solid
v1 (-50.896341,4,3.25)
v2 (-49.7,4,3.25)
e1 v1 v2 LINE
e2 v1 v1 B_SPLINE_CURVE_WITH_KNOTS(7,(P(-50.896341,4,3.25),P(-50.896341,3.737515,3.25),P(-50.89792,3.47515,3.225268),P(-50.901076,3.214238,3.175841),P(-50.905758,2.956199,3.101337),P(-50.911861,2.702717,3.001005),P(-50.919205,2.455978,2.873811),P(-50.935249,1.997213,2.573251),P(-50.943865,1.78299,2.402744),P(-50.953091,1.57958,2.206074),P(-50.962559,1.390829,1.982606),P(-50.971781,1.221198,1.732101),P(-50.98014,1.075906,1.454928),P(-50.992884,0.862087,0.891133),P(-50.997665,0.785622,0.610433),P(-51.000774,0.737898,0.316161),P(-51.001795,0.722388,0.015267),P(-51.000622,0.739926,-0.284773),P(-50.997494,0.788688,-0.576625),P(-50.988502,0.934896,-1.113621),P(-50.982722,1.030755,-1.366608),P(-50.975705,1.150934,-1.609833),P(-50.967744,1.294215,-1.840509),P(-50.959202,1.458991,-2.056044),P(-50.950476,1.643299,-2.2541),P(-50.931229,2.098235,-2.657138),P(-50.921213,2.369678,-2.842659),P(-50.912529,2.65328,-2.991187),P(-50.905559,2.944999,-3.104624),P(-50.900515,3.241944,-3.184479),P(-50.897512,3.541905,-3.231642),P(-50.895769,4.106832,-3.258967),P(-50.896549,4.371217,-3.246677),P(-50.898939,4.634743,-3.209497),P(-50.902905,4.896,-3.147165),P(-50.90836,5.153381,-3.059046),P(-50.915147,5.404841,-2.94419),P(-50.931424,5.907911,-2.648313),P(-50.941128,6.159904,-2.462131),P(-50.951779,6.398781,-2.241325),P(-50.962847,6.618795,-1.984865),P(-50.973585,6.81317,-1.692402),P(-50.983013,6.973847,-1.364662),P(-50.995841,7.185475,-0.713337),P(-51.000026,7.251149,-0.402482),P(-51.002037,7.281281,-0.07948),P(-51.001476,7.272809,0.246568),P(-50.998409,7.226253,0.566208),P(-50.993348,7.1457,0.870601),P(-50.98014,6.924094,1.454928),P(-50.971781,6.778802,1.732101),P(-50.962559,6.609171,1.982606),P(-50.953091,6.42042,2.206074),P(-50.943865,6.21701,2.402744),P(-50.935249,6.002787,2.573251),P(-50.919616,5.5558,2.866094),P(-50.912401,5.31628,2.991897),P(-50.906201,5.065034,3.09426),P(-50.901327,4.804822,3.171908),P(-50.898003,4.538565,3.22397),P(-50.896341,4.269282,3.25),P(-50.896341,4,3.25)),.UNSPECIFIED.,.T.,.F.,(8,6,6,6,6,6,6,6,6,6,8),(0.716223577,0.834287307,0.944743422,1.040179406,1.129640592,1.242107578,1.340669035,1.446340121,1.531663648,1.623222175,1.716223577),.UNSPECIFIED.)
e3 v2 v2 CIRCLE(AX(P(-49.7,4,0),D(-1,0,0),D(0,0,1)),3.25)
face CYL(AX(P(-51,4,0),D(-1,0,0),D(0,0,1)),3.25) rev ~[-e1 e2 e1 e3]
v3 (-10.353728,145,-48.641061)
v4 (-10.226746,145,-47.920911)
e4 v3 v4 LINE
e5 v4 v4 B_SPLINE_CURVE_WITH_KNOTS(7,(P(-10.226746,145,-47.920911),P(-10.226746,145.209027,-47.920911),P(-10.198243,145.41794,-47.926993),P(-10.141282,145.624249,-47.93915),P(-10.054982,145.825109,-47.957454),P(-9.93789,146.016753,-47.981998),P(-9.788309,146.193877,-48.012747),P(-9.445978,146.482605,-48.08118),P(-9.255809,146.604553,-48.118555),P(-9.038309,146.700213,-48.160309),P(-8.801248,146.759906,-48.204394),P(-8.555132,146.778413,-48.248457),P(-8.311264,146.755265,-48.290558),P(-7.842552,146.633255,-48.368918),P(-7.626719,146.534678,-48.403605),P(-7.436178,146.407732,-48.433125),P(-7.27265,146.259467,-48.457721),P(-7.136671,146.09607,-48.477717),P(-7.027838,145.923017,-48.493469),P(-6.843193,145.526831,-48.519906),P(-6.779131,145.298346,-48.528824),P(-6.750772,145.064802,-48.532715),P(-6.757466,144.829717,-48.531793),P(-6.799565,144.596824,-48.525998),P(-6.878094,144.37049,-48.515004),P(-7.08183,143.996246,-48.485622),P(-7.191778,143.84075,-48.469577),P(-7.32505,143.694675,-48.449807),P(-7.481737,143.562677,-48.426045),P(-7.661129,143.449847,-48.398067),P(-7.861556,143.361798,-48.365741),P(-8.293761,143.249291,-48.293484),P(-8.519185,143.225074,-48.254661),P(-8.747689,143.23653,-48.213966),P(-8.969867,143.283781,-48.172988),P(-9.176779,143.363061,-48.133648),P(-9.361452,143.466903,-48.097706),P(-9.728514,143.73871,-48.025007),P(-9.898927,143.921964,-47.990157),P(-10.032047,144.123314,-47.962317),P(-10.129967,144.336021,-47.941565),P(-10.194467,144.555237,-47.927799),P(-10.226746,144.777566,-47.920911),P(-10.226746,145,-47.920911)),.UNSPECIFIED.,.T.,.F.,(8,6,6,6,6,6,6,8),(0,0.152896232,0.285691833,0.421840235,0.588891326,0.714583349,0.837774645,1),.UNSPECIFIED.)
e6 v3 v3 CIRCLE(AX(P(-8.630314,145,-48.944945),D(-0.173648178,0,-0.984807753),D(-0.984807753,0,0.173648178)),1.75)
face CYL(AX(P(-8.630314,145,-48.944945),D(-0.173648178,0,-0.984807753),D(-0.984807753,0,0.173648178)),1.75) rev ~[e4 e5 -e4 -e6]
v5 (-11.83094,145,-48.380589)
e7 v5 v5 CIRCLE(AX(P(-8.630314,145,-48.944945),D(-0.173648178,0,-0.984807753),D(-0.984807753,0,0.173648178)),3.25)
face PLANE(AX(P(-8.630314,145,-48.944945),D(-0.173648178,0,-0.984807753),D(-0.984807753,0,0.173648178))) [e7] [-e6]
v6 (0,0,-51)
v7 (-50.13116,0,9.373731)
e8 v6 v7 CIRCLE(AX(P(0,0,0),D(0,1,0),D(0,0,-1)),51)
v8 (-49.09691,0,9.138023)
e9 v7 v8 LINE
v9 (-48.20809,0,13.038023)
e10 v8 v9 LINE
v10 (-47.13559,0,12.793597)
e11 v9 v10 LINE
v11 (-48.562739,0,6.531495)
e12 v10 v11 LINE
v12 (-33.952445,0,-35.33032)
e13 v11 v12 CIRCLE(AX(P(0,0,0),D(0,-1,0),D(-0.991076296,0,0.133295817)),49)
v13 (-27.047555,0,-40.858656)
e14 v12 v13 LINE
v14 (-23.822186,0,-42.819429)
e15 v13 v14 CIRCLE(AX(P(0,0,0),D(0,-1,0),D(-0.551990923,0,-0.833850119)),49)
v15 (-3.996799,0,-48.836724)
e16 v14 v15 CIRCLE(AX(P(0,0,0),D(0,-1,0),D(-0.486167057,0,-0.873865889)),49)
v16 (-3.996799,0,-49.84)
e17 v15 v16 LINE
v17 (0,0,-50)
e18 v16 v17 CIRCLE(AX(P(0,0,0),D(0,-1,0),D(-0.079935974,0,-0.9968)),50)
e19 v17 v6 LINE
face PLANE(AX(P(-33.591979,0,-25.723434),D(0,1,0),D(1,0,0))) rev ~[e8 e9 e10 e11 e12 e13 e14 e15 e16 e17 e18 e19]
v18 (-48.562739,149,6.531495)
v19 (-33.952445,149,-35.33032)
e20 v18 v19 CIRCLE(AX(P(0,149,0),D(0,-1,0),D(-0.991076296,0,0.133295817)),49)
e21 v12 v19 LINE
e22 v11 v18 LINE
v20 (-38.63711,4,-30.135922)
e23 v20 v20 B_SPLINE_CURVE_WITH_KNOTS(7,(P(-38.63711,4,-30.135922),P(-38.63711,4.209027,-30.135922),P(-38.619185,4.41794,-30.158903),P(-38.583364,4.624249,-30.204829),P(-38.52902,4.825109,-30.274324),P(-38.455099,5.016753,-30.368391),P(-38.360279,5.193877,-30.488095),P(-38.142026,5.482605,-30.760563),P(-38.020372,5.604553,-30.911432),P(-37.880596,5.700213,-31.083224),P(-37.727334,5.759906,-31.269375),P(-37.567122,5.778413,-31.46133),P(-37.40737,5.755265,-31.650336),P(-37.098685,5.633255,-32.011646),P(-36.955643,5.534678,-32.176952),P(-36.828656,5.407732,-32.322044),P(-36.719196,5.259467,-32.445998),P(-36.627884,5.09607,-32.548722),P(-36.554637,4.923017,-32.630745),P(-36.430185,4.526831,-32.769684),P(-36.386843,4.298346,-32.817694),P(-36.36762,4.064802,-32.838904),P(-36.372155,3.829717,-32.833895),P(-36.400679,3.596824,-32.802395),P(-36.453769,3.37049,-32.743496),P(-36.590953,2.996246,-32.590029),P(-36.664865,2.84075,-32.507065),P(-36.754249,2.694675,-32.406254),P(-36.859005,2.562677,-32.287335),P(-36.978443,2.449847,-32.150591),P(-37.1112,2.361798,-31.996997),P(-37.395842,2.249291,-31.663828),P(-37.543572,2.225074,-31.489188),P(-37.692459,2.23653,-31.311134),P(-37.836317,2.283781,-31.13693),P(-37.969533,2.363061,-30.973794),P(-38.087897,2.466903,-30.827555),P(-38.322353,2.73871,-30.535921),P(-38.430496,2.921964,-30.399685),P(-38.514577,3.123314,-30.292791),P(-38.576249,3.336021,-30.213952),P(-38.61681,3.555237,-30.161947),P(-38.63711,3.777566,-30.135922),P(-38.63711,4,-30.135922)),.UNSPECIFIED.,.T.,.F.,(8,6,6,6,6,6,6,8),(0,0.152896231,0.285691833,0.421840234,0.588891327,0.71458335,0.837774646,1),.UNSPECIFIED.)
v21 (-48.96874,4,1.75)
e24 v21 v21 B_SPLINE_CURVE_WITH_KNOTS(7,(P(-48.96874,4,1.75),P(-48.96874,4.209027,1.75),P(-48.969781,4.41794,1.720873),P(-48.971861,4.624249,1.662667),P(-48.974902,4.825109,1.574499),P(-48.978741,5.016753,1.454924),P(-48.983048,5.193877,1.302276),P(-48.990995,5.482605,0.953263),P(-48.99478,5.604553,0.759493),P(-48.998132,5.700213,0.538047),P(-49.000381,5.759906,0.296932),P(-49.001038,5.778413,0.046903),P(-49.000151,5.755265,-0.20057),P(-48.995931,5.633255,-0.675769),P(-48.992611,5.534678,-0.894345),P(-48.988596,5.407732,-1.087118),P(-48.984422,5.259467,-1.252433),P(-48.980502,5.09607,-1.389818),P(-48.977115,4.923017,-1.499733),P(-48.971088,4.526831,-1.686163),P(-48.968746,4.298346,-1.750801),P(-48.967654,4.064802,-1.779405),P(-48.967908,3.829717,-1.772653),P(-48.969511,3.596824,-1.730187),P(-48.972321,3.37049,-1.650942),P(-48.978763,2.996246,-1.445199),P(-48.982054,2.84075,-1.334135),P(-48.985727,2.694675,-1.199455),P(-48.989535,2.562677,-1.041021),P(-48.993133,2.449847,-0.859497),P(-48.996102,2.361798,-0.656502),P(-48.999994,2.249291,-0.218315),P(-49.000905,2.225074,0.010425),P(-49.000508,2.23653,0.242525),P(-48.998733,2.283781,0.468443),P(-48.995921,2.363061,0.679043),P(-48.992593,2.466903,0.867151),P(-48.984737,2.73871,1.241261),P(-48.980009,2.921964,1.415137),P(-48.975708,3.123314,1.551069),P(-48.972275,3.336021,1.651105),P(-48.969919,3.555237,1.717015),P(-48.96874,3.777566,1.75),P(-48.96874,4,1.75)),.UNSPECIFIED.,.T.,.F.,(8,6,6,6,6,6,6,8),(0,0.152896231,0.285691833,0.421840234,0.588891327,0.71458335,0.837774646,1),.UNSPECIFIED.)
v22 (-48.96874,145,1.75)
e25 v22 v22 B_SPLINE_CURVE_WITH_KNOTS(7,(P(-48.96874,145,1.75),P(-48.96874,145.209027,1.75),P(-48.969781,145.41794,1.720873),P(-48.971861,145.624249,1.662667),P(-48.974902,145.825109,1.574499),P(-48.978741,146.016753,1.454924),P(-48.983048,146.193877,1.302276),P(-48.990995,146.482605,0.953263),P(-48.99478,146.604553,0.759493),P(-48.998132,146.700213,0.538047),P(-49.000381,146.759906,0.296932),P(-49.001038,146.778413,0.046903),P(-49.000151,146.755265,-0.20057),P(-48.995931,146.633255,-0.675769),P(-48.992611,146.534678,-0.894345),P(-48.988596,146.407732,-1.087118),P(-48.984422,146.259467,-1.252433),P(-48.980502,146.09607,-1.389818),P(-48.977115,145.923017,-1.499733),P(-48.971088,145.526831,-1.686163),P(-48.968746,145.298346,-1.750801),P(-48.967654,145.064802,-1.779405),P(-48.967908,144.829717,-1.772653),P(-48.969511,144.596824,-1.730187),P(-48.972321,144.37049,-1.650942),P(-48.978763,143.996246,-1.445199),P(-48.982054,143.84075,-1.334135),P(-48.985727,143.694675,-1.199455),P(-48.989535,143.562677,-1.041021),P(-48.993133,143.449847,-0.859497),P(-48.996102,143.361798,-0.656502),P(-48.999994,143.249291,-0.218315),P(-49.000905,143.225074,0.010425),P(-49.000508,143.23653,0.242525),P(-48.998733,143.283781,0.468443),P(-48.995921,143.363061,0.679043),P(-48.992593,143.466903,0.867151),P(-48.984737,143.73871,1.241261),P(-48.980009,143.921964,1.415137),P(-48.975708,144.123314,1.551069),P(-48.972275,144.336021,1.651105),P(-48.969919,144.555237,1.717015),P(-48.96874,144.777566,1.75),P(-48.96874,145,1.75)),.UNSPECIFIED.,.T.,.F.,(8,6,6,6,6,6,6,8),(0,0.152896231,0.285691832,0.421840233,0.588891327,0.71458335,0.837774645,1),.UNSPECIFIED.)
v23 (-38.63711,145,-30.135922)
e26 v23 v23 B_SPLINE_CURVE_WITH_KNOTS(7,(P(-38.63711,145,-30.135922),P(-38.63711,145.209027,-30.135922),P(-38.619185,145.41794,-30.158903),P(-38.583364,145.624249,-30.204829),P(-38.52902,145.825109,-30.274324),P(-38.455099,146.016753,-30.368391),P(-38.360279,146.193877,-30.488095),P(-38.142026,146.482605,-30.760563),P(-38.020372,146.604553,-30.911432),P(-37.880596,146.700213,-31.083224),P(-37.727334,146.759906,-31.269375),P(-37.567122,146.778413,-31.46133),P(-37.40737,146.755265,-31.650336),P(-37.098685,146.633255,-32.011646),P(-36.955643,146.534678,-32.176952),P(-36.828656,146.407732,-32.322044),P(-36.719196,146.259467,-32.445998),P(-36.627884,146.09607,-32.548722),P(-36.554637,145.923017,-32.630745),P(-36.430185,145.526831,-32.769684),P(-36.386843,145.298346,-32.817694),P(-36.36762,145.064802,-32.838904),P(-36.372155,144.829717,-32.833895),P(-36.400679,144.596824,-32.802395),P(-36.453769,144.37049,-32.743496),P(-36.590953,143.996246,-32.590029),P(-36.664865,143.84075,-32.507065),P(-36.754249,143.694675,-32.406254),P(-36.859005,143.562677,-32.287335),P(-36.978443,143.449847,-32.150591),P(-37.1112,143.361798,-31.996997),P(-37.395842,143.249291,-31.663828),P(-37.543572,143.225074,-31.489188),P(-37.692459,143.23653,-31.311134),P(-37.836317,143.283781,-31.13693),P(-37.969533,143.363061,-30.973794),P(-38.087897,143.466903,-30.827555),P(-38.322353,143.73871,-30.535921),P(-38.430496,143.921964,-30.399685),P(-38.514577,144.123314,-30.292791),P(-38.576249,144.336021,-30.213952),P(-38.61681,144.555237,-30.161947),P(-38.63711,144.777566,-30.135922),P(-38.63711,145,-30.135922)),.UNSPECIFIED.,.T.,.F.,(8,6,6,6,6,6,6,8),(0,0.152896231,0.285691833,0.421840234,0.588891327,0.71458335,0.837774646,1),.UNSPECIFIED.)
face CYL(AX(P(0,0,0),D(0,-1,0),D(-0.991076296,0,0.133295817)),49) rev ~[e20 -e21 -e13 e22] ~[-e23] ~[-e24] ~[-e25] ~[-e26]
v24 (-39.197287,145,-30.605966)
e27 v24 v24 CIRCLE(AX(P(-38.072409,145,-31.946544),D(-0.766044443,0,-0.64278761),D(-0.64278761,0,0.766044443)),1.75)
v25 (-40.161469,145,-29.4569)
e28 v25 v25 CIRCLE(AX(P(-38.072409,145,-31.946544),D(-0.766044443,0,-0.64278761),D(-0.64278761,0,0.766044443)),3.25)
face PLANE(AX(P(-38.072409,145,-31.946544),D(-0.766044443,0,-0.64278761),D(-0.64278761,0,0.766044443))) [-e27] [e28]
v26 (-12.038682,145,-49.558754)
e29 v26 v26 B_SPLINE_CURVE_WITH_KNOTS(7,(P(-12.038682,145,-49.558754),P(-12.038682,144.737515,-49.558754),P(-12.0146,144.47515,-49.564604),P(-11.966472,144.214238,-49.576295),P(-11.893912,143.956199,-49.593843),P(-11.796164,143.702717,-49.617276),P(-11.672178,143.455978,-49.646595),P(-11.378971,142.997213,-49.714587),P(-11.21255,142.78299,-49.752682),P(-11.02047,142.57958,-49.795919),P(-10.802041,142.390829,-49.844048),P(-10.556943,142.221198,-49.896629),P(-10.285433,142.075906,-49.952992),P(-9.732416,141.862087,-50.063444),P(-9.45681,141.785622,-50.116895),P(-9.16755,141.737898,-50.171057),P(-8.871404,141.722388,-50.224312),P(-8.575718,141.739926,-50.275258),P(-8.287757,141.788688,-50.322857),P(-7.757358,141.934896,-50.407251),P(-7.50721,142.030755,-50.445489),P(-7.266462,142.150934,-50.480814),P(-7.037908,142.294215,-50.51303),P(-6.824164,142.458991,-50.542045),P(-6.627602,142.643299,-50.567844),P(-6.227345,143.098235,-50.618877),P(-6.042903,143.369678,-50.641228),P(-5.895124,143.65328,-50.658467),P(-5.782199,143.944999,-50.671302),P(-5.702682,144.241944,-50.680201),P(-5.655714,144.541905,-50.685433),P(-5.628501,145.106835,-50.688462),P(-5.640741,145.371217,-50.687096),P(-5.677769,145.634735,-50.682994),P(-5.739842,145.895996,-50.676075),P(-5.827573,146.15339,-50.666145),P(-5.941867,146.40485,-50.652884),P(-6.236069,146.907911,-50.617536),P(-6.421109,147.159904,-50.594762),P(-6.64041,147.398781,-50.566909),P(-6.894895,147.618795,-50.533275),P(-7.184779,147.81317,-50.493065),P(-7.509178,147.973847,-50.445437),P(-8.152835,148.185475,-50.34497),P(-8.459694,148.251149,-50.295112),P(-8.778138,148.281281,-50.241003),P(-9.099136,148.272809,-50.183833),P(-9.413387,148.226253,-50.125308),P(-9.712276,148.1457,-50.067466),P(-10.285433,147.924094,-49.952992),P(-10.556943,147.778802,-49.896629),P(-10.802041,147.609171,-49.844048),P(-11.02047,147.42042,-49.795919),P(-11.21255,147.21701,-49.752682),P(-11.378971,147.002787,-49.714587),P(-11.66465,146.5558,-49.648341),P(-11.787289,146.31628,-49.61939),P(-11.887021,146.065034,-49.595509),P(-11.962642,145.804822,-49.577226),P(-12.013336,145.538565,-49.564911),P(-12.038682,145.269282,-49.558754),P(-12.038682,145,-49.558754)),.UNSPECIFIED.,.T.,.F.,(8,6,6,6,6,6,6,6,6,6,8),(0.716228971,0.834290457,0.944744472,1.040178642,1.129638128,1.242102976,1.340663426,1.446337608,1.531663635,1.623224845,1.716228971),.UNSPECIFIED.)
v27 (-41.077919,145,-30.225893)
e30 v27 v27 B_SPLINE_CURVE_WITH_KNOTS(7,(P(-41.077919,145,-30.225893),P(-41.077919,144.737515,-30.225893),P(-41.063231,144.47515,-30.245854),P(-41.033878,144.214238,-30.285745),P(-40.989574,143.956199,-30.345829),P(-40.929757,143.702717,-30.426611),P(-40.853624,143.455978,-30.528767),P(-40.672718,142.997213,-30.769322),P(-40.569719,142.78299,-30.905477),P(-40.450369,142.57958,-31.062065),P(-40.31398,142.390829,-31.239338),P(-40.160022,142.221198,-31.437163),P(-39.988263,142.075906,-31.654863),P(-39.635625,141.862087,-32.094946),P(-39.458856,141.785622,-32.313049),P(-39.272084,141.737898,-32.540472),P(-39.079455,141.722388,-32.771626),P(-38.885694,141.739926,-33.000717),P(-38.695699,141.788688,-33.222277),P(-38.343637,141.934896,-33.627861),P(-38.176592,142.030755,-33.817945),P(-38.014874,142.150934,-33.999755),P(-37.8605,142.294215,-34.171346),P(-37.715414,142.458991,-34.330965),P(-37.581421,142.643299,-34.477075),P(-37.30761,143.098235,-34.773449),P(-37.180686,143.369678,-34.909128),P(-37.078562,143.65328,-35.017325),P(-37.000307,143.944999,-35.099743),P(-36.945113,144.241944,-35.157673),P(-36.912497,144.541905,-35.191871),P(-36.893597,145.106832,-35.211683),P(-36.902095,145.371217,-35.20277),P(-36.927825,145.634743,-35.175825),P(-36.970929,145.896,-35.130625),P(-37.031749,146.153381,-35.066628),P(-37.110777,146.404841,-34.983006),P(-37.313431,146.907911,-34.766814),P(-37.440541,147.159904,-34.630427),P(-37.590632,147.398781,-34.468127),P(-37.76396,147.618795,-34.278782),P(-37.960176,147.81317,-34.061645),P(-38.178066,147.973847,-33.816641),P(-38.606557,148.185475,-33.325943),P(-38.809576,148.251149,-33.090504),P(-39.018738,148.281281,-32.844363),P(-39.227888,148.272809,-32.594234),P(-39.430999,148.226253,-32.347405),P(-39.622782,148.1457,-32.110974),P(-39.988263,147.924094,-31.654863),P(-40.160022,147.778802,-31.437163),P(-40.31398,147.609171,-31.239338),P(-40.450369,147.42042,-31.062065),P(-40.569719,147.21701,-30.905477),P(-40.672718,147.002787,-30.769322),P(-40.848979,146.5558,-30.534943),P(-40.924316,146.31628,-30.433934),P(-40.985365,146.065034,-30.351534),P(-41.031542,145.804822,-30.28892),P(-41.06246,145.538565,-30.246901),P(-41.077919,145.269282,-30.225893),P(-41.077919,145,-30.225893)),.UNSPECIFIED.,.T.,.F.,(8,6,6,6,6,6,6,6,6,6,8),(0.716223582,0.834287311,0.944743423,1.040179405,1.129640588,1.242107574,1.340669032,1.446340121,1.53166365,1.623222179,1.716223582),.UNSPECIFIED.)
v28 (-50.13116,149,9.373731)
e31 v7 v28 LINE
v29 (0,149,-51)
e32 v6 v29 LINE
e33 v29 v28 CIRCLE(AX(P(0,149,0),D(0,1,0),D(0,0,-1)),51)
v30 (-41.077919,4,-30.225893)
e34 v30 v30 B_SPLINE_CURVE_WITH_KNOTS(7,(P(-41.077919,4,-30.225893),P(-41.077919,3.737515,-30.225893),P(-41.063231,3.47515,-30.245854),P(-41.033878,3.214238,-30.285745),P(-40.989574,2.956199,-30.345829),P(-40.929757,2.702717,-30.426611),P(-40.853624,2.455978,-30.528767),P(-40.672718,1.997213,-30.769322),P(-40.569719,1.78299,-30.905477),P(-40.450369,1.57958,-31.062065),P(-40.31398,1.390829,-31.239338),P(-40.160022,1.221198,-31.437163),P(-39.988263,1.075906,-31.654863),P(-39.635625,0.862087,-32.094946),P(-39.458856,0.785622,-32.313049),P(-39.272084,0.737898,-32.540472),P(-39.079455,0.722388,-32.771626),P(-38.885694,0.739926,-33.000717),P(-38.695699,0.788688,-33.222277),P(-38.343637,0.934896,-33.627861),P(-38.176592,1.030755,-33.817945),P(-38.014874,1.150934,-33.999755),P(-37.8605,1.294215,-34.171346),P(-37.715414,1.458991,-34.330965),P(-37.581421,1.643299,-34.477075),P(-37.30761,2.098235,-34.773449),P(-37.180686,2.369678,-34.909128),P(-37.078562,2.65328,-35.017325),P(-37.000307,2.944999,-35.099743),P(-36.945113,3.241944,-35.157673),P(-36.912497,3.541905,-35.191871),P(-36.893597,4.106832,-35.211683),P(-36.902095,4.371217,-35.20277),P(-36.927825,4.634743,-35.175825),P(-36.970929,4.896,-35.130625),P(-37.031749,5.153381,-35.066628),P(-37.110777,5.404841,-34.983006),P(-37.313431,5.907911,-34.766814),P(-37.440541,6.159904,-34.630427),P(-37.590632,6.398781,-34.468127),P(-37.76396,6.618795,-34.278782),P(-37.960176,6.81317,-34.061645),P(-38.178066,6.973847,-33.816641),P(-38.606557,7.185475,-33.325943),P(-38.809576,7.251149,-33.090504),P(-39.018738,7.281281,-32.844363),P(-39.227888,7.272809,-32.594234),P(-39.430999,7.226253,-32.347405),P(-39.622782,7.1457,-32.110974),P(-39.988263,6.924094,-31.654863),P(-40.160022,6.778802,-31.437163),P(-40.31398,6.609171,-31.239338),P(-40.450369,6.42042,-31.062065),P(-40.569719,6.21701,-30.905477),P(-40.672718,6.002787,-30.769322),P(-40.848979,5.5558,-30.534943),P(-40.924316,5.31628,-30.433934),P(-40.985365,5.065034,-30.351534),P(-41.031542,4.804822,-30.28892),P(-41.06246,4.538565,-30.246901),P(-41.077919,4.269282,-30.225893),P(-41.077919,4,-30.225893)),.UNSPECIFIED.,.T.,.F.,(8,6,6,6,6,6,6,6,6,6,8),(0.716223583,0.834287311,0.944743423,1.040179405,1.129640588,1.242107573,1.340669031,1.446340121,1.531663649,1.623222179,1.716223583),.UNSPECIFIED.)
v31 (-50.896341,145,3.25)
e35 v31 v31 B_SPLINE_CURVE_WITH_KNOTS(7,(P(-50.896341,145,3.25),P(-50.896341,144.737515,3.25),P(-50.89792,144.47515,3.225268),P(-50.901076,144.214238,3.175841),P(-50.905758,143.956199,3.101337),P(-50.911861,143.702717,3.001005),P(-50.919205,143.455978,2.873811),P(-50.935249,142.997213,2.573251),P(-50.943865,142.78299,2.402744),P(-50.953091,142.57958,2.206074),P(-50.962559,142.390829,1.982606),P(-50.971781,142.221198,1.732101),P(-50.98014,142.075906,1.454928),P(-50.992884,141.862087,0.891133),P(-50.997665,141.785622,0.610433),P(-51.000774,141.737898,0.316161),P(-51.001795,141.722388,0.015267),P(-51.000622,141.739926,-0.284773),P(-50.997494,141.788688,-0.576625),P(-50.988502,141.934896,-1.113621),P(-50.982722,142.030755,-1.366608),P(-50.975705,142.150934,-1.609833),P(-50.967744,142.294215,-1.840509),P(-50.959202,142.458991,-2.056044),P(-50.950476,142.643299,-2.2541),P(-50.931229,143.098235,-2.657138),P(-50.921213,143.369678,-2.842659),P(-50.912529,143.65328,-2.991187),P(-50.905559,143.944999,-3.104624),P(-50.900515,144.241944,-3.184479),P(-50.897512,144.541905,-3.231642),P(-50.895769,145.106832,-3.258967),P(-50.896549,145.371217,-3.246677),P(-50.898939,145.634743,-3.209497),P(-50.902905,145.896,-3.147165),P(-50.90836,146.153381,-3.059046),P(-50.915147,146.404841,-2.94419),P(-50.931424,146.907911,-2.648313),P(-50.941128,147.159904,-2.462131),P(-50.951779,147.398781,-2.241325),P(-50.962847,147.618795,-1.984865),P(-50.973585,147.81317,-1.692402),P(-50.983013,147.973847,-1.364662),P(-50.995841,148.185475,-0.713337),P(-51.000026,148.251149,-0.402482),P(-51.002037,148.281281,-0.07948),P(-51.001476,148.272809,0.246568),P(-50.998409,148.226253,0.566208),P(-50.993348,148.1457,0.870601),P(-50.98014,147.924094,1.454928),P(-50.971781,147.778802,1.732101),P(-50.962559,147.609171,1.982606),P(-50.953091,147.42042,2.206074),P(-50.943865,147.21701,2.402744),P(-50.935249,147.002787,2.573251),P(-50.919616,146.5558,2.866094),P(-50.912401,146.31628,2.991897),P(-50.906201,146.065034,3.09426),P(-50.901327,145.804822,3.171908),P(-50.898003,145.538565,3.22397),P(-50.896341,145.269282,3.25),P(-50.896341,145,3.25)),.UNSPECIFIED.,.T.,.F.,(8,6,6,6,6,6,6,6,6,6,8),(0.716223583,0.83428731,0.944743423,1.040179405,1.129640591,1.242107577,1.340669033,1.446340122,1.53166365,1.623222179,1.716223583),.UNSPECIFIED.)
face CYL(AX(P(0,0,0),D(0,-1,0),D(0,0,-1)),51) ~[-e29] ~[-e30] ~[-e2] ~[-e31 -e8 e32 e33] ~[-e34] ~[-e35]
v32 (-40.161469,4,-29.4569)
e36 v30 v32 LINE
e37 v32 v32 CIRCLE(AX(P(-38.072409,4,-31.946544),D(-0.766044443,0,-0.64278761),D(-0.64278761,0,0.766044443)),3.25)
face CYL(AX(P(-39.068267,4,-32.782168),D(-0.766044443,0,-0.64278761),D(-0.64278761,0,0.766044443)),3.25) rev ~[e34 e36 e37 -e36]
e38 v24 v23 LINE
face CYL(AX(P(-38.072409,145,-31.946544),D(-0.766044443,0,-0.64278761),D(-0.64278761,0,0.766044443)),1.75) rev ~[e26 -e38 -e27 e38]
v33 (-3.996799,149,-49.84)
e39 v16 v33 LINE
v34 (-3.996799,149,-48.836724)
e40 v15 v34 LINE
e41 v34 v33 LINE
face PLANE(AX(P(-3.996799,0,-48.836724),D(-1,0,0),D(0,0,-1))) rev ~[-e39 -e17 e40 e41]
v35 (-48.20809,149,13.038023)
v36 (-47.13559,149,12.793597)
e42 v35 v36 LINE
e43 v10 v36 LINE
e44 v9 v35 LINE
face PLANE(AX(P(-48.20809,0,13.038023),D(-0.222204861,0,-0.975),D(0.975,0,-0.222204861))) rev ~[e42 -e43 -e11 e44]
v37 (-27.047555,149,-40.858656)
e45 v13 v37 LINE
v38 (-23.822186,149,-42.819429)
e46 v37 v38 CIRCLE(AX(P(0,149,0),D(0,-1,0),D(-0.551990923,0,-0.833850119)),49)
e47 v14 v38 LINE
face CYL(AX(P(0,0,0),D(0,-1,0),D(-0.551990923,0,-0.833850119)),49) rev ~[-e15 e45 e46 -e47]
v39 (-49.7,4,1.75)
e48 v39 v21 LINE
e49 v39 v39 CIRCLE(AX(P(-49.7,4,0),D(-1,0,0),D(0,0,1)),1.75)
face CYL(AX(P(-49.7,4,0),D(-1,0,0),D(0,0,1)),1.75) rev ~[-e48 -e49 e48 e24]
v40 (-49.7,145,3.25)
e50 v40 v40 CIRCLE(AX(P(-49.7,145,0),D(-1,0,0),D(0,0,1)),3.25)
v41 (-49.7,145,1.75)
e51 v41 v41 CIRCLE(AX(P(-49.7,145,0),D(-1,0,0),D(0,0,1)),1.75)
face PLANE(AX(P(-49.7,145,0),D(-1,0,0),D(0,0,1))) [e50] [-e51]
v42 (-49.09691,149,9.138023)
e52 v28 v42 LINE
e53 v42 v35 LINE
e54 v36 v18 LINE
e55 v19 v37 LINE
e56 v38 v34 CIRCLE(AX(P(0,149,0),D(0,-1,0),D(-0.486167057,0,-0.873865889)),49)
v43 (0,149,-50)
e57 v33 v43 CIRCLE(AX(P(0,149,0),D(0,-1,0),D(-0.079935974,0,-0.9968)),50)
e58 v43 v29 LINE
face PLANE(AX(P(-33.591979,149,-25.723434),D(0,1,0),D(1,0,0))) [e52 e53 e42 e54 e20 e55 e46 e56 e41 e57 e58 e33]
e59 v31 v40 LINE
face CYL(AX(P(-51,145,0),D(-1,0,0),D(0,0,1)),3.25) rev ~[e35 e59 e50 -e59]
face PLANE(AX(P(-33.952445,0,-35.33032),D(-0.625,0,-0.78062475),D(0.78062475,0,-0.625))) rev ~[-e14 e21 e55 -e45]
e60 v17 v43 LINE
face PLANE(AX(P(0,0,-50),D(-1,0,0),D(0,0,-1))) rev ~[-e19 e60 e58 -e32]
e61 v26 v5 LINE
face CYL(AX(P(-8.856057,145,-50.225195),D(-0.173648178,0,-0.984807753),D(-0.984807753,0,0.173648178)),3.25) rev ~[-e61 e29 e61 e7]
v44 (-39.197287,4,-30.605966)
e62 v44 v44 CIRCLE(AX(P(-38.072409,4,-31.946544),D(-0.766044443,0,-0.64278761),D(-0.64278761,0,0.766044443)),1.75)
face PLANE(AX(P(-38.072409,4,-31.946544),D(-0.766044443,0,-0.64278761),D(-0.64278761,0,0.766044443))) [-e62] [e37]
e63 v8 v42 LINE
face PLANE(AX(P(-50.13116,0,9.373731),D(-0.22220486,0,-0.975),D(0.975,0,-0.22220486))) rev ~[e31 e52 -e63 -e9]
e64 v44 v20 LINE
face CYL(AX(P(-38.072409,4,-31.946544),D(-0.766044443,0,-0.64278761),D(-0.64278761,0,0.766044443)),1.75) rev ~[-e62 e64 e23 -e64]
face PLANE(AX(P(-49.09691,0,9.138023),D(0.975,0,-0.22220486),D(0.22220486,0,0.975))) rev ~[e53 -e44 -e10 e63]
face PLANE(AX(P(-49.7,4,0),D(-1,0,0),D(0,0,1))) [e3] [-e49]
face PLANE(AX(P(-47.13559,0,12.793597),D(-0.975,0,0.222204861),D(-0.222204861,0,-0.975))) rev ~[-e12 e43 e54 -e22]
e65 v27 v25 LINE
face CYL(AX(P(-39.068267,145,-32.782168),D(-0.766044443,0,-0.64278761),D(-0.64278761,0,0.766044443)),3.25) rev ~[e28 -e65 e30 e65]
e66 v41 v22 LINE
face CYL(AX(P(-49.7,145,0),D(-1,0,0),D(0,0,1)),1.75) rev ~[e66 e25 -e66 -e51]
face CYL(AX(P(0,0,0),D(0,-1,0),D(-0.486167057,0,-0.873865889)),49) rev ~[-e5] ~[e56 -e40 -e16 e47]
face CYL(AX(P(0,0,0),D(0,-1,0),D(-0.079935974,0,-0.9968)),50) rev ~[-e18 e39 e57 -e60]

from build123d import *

# Parameters (mm, degrees)
EXTRUDE_1_DEPTH          = 149
SKETCH_7_R               = 3.25
CUT_EXTRUDE_3_DEPTH      = 1.3
SKETCH_8_R               = 1.75
CUT_EXTRUDE_4_DEPTH      = 166.14263547
PATTERN_CIRCULAR_1_COUNT = 3
PATTERN_CIRCULAR_1_ANGLE = 40
SKETCH_9_R               = 3.25
CUT_EXTRUDE_5_DEPTH      = 1.3
SKETCH_10_R              = 1.75
CUT_EXTRUDE_6_DEPTH      = 166.14263547
PATTERN_CIRCULAR_2_COUNT = 5
PATTERN_CIRCULAR_2_ANGLE = 80


with BuildPart() as part:
    # Эскиз1 → Бобышка-Вытянуть1 (new body)
    with BuildSketch(Plane(origin=(0, 0, 0), x_dir=(1, 0, 0), z_dir=(0, 1, 0))):
        with BuildLine():
            Line((-47.135590279, -12.793597189), (-48.562738521, -6.531495034))
            ThreePointArc((-48.562738521, -6.531495034), (-46.263287314, 16.146462365), (-33.952444786, 35.330319742))
            Line((-33.952444786, 35.330319742), (-27.047555214, 40.858655839))
            ThreePointArc((-27.047555214, 40.858655839), (-25.453757982, 41.870111113), (-23.822185811, 42.819428571))
            ThreePointArc((-23.822185811, 42.819428571), (-14.231160733, 46.887888246), (-3.996798719, 48.836723887))
            Line((-3.996798719, 48.836723887), (-3.996798719, 49.84))
            ThreePointArc((-3.996798719, 49.84), (-2, 49.959983987), (0, 50))
            Line((0, 50), (0, 51))
            ThreePointArc((0, 51), (-39.236846594, 32.580206711), (-50.131159715, -9.373730613))
            Line((-50.131159715, -9.373730613), (-49.096909721, -9.138022536))
            Line((-49.096909721, -9.138022536), (-48.208090279, -13.038022536))
            Line((-48.208090279, -13.038022536), (-47.135590279, -12.793597189))
        make_face()
    extrude(amount=EXTRUDE_1_DEPTH)

    # Эскиз7 → Вырез-Вытянуть3 (cut)
    with BuildSketch(Plane.ZY.offset(51)):
        with Locations((0, 4)):
            Circle(SKETCH_7_R)
    cut_extrude_3 = extrude(amount=-CUT_EXTRUDE_3_DEPTH, mode=Mode.SUBTRACT)

    # Эскиз8 → Вырез-Вытянуть4 (cut, through all)
    with BuildSketch(Plane.ZY.offset(49.7)):
        with Locations((0, 4)):
            Circle(SKETCH_8_R)
    cut_extrude_4 = extrude(amount=-CUT_EXTRUDE_4_DEPTH, mode=Mode.SUBTRACT)

    # Круговой массив1: Вырез-Вытянуть3, Вырез-Вытянуть4 ×3 about axis, 1 skipped
    pattern_circular_1_axis = Axis((0, 0, 0), (0, -1, 0))
    add([cut_extrude_3.rotate(pattern_circular_1_axis, i * PATTERN_CIRCULAR_1_ANGLE / (PATTERN_CIRCULAR_1_COUNT - 1)) for i in range(1, PATTERN_CIRCULAR_1_COUNT) if i not in (1,)], mode=Mode.SUBTRACT)
    add([cut_extrude_4.rotate(pattern_circular_1_axis, i * PATTERN_CIRCULAR_1_ANGLE / (PATTERN_CIRCULAR_1_COUNT - 1)) for i in range(1, PATTERN_CIRCULAR_1_COUNT) if i not in (1,)], mode=Mode.SUBTRACT)

    # Эскиз9 → Вырез-Вытянуть5 (cut)
    with BuildSketch(Plane.ZY.offset(51)):
        with Locations((0, 145)):
            Circle(SKETCH_9_R)
    cut_extrude_5 = extrude(amount=-CUT_EXTRUDE_5_DEPTH, mode=Mode.SUBTRACT)

    # Эскиз10 → Вырез-Вытянуть6 (cut, through all)
    with BuildSketch(Plane.ZY.offset(49.7)):
        with Locations((0, 145)):
            Circle(SKETCH_10_R)
    cut_extrude_6 = extrude(amount=-CUT_EXTRUDE_6_DEPTH, mode=Mode.SUBTRACT)

    # Круговой массив2: Вырез-Вытянуть5, Вырез-Вытянуть6 ×5 about axis, 2 skipped
    pattern_circular_2_axis = Axis((0, 149, 0), (0, -1, 0))
    add([cut_extrude_5.rotate(pattern_circular_2_axis, i * PATTERN_CIRCULAR_2_ANGLE / (PATTERN_CIRCULAR_2_COUNT - 1)) for i in range(1, PATTERN_CIRCULAR_2_COUNT) if i not in (1, 3)], mode=Mode.SUBTRACT)
    add([cut_extrude_6.rotate(pattern_circular_2_axis, i * PATTERN_CIRCULAR_2_ANGLE / (PATTERN_CIRCULAR_2_COUNT - 1)) for i in range(1, PATTERN_CIRCULAR_2_COUNT) if i not in (1, 3)], mode=Mode.SUBTRACT)


solid = part.part
